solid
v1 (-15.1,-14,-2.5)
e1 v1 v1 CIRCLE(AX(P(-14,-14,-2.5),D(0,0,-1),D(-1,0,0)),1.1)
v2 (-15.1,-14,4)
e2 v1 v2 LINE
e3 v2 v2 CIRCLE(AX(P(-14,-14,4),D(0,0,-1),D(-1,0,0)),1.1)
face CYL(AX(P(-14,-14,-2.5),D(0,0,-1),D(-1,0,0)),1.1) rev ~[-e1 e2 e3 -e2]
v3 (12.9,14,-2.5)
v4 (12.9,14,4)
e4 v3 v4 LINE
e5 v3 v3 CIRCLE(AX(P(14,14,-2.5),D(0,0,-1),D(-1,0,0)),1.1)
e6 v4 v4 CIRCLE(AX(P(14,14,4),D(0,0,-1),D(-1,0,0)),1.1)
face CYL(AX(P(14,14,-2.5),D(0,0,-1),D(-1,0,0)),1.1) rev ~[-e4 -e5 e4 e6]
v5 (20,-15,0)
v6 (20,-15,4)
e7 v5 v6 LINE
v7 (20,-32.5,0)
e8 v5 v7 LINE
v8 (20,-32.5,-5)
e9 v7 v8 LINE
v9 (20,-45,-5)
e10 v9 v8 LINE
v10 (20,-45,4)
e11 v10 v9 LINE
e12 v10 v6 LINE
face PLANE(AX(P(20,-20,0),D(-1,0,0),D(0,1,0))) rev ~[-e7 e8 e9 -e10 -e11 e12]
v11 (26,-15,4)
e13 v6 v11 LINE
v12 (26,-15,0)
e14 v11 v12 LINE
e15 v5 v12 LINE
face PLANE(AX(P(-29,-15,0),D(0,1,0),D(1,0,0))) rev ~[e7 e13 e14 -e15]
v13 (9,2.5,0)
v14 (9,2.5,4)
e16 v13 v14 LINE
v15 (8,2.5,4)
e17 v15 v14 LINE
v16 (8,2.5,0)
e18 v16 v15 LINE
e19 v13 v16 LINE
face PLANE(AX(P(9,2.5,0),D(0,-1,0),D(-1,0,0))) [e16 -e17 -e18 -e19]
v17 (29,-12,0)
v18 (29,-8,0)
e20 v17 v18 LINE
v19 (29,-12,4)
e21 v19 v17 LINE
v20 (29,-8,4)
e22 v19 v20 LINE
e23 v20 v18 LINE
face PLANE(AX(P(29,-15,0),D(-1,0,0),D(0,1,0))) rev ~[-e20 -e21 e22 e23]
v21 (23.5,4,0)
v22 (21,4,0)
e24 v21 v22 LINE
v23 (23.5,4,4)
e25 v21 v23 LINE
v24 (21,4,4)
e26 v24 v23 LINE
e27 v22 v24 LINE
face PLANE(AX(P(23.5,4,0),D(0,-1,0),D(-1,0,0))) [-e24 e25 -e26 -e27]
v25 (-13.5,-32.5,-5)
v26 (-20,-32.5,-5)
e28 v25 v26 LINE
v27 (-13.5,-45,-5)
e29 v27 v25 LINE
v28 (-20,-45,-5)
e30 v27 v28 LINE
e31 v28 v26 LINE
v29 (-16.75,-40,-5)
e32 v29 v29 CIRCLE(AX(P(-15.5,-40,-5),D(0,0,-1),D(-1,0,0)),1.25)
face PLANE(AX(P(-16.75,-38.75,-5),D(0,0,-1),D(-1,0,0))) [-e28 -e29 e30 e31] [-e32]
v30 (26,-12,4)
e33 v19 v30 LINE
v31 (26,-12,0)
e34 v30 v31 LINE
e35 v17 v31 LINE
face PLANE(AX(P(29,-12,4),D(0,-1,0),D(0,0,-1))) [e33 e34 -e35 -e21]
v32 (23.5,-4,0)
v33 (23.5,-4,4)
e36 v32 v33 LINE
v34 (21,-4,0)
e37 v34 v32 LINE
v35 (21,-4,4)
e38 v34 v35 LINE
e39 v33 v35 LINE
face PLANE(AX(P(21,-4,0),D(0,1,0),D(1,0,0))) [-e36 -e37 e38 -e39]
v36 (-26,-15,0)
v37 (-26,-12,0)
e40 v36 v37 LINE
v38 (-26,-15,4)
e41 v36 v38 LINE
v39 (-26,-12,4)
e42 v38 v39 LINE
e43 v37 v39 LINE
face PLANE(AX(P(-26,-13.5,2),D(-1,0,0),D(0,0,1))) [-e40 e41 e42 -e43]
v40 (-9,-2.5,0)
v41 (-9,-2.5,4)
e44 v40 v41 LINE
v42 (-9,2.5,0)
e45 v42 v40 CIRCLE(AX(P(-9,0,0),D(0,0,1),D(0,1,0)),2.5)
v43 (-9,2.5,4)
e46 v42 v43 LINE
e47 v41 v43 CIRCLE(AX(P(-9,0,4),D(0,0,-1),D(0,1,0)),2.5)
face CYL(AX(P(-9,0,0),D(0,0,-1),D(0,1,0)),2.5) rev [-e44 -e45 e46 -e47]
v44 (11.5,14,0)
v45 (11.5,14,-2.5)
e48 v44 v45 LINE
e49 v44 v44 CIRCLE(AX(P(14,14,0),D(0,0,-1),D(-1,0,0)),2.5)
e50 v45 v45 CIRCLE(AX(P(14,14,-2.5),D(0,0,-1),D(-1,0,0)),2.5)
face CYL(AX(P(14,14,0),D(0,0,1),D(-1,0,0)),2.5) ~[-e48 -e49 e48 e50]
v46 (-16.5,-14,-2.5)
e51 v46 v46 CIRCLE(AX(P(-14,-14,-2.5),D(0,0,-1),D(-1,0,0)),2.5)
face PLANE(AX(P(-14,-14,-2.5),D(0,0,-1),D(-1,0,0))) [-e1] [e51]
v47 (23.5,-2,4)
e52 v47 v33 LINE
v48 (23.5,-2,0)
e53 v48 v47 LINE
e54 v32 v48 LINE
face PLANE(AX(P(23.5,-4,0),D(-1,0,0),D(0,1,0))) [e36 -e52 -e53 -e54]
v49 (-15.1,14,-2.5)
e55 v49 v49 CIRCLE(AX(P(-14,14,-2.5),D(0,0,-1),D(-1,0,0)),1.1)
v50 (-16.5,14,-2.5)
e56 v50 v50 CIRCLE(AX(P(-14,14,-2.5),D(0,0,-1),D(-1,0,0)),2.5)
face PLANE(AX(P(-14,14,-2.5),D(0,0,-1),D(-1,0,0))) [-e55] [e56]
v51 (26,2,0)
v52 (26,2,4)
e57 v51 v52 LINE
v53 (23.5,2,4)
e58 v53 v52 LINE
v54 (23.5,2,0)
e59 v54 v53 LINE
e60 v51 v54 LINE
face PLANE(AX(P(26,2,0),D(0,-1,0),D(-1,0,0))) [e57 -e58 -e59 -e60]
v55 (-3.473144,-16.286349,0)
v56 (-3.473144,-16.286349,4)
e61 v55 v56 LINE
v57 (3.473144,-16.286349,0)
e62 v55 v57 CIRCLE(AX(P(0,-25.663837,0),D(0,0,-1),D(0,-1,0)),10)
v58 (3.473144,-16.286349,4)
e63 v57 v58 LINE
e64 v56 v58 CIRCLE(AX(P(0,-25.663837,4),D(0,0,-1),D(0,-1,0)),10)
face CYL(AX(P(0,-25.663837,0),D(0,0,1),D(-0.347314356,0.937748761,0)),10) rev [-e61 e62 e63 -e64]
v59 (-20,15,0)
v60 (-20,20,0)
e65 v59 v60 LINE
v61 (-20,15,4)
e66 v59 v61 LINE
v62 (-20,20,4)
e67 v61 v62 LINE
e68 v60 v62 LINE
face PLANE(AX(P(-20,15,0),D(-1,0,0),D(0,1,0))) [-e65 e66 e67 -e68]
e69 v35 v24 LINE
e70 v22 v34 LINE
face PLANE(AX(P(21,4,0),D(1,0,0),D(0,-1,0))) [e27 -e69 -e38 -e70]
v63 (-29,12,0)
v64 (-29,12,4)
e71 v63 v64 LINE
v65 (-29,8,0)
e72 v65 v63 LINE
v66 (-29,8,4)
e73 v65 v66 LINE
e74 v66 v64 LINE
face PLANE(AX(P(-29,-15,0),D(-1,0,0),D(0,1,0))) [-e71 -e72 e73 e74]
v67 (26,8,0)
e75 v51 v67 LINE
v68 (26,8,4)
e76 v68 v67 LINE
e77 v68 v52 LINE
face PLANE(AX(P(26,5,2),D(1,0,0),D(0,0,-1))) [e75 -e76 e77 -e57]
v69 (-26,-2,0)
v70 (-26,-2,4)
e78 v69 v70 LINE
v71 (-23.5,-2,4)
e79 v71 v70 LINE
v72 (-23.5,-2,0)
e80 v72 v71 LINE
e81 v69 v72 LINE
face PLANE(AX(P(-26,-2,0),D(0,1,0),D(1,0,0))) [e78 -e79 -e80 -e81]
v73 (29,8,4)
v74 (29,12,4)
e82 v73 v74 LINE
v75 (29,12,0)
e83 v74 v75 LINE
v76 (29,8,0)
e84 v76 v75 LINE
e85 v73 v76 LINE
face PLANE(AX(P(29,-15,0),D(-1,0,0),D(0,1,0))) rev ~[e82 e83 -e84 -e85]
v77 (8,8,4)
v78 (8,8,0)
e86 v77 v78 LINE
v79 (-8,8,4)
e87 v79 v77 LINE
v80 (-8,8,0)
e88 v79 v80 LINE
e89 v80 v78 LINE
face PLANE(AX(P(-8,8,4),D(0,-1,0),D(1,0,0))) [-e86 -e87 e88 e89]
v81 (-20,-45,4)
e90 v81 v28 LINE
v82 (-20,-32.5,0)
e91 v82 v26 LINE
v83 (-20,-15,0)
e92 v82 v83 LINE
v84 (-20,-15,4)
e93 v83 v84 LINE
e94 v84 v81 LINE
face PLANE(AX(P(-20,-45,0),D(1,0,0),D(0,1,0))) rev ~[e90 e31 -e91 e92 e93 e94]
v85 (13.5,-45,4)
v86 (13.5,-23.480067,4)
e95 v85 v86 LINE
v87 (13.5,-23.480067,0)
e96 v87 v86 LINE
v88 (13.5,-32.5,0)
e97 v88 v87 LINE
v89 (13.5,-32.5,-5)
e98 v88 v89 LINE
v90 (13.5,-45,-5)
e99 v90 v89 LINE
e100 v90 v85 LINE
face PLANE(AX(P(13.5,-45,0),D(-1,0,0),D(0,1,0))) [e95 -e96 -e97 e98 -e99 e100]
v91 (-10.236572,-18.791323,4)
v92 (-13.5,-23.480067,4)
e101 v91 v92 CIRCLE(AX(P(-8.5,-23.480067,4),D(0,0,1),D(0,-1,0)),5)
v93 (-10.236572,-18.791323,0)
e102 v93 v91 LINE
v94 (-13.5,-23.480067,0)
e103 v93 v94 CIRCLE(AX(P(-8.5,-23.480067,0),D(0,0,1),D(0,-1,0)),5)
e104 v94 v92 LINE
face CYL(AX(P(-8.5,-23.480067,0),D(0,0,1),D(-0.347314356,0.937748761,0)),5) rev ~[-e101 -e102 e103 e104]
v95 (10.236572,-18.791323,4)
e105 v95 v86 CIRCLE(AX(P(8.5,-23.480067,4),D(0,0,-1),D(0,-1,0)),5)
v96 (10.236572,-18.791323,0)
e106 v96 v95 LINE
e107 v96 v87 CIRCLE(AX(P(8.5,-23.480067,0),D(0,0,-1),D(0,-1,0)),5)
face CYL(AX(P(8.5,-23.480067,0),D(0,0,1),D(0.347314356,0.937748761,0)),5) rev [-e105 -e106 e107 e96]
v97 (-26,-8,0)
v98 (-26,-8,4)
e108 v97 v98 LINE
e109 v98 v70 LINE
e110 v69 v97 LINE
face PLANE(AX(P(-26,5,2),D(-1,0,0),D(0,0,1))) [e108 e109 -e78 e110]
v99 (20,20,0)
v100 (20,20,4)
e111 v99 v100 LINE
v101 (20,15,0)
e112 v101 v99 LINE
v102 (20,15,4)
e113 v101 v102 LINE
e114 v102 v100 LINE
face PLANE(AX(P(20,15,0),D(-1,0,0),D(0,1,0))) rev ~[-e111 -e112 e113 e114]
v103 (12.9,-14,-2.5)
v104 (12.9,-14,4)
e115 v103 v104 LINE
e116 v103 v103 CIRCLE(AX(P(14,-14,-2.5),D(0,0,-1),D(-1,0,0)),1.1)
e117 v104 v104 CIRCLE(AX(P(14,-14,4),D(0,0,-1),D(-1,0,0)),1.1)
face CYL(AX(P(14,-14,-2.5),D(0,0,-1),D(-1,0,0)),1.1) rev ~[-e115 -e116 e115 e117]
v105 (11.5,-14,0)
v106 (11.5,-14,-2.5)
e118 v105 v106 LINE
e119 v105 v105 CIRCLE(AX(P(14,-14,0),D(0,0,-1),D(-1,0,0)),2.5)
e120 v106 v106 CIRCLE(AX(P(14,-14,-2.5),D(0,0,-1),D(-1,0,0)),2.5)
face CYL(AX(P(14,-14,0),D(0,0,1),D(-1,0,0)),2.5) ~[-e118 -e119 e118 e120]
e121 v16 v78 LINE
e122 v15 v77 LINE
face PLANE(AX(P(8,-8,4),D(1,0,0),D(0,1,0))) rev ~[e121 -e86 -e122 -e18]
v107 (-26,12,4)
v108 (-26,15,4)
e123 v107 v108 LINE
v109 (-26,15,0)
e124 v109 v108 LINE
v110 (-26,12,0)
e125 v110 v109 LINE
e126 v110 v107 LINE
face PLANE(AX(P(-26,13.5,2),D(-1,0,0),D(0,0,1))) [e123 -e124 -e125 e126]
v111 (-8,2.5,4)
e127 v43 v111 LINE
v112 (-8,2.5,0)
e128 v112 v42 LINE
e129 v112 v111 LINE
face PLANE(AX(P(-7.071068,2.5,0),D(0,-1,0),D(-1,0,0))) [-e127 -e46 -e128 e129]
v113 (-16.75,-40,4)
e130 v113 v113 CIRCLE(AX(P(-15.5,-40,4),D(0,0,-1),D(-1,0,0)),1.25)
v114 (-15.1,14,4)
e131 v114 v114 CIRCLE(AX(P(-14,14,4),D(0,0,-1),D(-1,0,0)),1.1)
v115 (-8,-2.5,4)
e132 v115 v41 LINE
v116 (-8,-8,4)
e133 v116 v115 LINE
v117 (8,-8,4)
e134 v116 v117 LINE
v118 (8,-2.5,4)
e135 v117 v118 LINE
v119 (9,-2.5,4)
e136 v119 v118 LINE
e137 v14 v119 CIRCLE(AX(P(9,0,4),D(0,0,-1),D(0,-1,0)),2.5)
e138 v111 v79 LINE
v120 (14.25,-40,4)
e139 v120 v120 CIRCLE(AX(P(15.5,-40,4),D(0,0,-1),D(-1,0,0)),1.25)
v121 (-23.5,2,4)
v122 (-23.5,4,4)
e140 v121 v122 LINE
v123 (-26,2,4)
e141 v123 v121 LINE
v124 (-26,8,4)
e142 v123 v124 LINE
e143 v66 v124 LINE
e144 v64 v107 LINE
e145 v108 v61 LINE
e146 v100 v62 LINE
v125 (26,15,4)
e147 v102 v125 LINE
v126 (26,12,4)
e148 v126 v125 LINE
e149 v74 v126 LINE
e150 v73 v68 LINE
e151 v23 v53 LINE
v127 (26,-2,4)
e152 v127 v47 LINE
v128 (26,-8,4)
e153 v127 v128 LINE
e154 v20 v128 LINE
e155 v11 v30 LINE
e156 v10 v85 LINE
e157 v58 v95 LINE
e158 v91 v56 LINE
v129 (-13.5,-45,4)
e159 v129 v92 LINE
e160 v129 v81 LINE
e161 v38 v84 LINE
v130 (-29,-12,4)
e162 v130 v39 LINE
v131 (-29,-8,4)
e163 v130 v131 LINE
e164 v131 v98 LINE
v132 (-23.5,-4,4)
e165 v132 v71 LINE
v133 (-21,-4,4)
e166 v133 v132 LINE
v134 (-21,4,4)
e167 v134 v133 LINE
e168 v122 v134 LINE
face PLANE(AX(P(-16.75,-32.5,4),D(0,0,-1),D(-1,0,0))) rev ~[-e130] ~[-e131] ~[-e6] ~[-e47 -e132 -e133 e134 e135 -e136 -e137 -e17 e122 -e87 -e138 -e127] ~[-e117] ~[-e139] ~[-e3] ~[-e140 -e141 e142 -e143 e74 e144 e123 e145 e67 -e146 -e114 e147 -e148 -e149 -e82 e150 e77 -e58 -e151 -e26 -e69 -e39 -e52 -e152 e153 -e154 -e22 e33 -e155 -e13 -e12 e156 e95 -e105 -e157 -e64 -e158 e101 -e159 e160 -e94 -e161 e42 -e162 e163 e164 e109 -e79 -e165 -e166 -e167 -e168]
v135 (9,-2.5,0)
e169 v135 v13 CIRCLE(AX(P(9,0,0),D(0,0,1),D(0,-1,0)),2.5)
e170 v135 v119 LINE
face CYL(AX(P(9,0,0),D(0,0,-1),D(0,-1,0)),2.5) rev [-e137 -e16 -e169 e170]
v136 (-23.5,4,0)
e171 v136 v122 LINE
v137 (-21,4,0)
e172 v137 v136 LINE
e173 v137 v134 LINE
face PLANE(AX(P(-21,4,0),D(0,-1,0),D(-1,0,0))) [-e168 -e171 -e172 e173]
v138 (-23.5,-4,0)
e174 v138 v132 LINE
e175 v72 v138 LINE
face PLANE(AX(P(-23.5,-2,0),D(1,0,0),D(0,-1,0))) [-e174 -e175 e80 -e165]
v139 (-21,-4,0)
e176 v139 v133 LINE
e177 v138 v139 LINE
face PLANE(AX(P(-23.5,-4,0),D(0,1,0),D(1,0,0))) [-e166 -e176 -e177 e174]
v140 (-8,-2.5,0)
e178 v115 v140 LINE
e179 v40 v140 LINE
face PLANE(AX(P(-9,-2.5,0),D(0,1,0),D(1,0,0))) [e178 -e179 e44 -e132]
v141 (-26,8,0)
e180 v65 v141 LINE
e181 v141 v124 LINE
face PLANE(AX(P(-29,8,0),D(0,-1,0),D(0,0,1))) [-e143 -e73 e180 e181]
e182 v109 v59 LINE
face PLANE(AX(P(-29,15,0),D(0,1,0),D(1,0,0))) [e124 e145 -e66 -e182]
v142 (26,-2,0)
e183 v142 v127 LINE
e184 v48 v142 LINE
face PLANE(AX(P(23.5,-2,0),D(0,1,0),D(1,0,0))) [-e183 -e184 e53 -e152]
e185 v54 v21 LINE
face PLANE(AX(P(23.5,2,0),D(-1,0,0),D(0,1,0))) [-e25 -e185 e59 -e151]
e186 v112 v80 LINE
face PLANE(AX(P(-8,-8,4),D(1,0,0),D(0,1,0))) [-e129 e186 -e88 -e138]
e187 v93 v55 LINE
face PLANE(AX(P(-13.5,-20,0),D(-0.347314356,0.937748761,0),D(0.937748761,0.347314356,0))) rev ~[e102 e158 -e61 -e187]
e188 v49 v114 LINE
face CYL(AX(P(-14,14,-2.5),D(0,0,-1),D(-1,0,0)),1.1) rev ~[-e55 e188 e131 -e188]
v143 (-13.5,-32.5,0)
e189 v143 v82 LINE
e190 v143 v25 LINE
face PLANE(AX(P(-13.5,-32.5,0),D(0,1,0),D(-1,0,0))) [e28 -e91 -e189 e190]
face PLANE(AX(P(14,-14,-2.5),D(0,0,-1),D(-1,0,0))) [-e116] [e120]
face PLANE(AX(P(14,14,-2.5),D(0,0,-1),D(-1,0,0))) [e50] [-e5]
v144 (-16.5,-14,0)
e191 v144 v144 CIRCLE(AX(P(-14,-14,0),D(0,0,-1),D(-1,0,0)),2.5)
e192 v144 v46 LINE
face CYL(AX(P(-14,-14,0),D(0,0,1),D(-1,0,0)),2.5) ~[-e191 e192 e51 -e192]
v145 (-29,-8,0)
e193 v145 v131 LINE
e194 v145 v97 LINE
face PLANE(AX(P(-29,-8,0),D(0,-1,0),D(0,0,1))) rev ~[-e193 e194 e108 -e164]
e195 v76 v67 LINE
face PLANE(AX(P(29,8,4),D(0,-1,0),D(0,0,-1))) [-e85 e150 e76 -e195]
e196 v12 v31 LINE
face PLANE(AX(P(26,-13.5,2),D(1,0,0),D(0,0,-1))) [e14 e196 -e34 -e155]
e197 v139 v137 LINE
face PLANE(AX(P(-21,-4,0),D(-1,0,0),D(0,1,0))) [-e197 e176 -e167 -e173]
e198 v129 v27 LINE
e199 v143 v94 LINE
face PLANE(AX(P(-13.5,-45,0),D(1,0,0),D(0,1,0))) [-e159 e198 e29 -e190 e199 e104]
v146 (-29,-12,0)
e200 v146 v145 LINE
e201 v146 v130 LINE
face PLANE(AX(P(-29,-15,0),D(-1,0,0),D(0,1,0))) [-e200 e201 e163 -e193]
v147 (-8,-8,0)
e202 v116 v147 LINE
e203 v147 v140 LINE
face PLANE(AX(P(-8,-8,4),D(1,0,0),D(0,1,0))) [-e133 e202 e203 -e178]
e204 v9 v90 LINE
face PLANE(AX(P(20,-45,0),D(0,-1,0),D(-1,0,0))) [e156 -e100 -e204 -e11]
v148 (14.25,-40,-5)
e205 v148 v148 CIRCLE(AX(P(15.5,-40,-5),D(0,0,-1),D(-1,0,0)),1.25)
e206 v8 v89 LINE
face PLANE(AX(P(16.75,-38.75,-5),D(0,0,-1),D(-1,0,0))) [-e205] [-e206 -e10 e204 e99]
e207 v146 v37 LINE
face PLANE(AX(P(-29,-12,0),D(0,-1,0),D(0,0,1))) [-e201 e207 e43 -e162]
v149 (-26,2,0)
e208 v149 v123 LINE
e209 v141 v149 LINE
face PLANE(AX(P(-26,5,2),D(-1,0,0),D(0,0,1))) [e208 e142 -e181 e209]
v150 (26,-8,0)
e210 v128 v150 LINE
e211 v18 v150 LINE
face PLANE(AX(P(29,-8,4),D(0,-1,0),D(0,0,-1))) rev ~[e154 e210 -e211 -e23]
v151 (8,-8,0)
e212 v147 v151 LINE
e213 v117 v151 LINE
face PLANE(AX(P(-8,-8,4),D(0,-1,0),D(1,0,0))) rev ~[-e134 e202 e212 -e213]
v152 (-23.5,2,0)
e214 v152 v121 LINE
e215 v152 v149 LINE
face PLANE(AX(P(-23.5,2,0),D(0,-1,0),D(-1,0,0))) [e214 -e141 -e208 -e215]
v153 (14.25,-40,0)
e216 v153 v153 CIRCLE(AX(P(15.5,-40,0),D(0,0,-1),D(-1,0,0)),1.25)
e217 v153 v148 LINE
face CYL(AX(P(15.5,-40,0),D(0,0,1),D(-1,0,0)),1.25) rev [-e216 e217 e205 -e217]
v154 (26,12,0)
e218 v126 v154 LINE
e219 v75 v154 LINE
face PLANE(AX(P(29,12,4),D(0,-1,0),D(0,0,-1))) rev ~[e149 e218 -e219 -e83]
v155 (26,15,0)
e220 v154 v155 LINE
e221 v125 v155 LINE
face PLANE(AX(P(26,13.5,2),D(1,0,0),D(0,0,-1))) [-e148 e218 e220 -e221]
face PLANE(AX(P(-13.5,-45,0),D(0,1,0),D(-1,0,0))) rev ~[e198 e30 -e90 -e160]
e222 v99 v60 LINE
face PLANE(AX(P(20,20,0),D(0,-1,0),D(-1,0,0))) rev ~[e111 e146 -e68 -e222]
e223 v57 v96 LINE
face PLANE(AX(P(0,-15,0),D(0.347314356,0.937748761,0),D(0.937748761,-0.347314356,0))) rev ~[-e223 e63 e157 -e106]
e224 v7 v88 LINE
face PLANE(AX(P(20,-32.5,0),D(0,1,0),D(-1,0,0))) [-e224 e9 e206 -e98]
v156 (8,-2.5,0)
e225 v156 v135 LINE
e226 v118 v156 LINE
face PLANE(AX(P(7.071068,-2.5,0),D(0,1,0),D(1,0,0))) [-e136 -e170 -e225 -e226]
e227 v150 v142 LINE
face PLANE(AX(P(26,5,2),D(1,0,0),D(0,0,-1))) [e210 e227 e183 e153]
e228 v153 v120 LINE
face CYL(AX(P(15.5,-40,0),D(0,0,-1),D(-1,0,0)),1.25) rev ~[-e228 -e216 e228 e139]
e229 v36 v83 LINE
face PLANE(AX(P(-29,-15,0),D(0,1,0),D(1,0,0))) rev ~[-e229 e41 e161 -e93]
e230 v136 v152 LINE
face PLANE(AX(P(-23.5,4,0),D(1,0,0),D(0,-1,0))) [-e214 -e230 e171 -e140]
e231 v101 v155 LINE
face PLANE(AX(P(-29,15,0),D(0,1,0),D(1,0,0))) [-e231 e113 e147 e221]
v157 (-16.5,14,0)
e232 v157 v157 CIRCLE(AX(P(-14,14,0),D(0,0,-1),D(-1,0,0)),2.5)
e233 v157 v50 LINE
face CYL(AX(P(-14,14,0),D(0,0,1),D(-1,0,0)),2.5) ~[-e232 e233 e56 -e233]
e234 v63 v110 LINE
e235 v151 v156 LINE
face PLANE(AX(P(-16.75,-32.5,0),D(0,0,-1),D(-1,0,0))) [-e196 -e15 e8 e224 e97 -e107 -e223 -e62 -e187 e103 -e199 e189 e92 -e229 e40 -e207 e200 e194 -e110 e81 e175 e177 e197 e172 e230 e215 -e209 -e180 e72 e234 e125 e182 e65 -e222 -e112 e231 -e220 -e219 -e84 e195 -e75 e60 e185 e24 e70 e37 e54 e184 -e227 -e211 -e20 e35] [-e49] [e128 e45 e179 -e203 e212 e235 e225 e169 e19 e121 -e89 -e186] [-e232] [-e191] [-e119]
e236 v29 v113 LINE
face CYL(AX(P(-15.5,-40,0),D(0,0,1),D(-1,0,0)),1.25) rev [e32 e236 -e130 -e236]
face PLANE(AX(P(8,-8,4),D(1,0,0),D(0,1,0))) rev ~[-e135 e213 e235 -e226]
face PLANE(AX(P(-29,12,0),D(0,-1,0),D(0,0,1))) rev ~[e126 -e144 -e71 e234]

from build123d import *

# Parameters (mm, degrees)
SKETCH_1_W           = 58
SKETCH_1_H           = 30
EXTRUDE_1_DEPTH      = 4
SKETCH_2_W           = 4
SKETCH_2_H           = 3
SKETCH_2_H_2         = 6
SKETCH_2_H_3         = 4
CUT_EXTRUDE_2_DEPTH  = 3
SKETCH_3_W           = 4
SKETCH_3_H           = 3
SKETCH_3_H_2         = 6
SKETCH_3_H_3         = 4
CUT_EXTRUDE_3_DEPTH  = 3
CUT_EXTRUDE_4_DEPTH  = 5
SKETCH_5_R           = 7.5
CUT_EXTRUDE_5_DEPTH  = 5
SKETCH_11_W          = 16
SKETCH_11_H          = 16
CUT_EXTRUDE_10_DEPTH = 10
SKETCH_12_W          = 40
SKETCH_12_H          = 5
EXTRUDE_2_DEPTH      = 4
SKETCH_13_R          = 2.5
EXTRUDE_3_DEPTH      = 2.5
SKETCH_14_R          = 1.1
CUT_EXTRUDE_11_DEPTH = 7.5
SKETCH_15_W          = 6.5
SKETCH_15_H          = 25
SKETCH_15_R          = 1.25
EXTRUDE_4_DEPTH      = 4
SKETCH_16_W          = 6.5
SKETCH_16_H          = 12.5
SKETCH_16_R          = 1.25
EXTRUDE_5_DEPTH      = 5
CUT_EXTRUDE_12_DEPTH = 5
FILLET_1_R           = 10
FILLET_2_R           = 5


with BuildPart() as part:
    # 草图1 → 凸台-拉伸1 (new body)
    with BuildSketch(Plane.XY):
        Rectangle(SKETCH_1_W, SKETCH_1_H)
    extrude(amount=EXTRUDE_1_DEPTH)

    # 草图2 → 切除-拉伸2 (cut)
    with BuildSketch(Plane(origin=(29, 0, 0), x_dir=(0, 0, -1), z_dir=(1, 0, 0))):
        with Locations((-2, 13.5)):
            Rectangle(SKETCH_2_W, SKETCH_2_H)
        with Locations((-2, 5)):
            Rectangle(SKETCH_2_W, SKETCH_2_H_2)
        with Locations((-2, 0)):
            Rectangle(SKETCH_2_W, SKETCH_2_H_3)
        with Locations((-2, -5)):
            Rectangle(SKETCH_2_W, SKETCH_2_H_2)
        with Locations((-2, -13.5)):
            Rectangle(SKETCH_2_W, SKETCH_2_H)
    extrude(amount=-CUT_EXTRUDE_2_DEPTH, mode=Mode.SUBTRACT)

    # 草图3 → 切除-拉伸3 (cut)
    with BuildSketch(Plane.ZY.offset(29)):
        with Locations((2, 13.5)):
            Rectangle(SKETCH_3_W, SKETCH_3_H)
        with Locations((2, 5)):
            Rectangle(SKETCH_3_W, SKETCH_3_H_2)
        with Locations((2, 0)):
            Rectangle(SKETCH_3_W, SKETCH_3_H_3)
        with Locations((2, -5)):
            Rectangle(SKETCH_3_W, SKETCH_3_H_2)
        with Locations((2, -13.5)):
            Rectangle(SKETCH_3_W, SKETCH_3_H)
    extrude(amount=-CUT_EXTRUDE_3_DEPTH, mode=Mode.SUBTRACT)

    # 草图4 → 切除-拉伸4 (cut, through all)
    with BuildSketch(Plane(origin=(0, 0, 0), x_dir=(-1, 0, 0), z_dir=(0, 0, -1))):
        Polygon((-26, 2), (-23.5, 2), (-23.5, 4), (-21, 4), (-21, -4), (-23.5, -4), (-23.5, -2), (-26, -2), align=None)
        Polygon((26, -2), (23.5, -2), (23.5, -4), (21, -4), (21, 4), (23.5, 4), (23.5, 2), (26, 2), align=None)
    extrude(amount=-CUT_EXTRUDE_4_DEPTH, mode=Mode.SUBTRACT)

    # 草图5 → 切除-拉伸5 (cut, through all)
    with BuildSketch(Plane(origin=(0, 0, 0), x_dir=(-1, 0, 0), z_dir=(0, 0, -1))):
        Circle(SKETCH_5_R)
        with BuildLine():
            Line((-9, 2.5), (9, 2.5))
            ThreePointArc((9, 2.5), (11.5, 0), (9, -2.5))
            Line((9, -2.5), (-9, -2.5))
            ThreePointArc((-9, -2.5), (-11.5, 0), (-9, 2.5))
        make_face()
    extrude(amount=-CUT_EXTRUDE_5_DEPTH, mode=Mode.SUBTRACT)

    # 草图11 → 切除-拉伸10 (cut)
    with BuildSketch(Plane.XY.offset(4)):
        Rectangle(SKETCH_11_W, SKETCH_11_H)
    extrude(amount=-CUT_EXTRUDE_10_DEPTH, mode=Mode.SUBTRACT)

    # 草图12 → 凸台-拉伸2 (add)
    with BuildSketch(Plane(origin=(0, 0, 0), x_dir=(-1, 0, 0), z_dir=(0, 0, -1))):
        with Locations((0, 17.5)):
            Rectangle(SKETCH_12_W, SKETCH_12_H)
        with Locations((0, -17.5)):
            Rectangle(SKETCH_12_W, SKETCH_12_H)
    extrude(amount=-EXTRUDE_2_DEPTH)

    # 草图13 → 凸台-拉伸3 (add)
    with BuildSketch(Plane(origin=(0, 0, 0), x_dir=(-1, 0, 0), z_dir=(0, 0, -1))):
        with Locations((14, -14)):
            Circle(SKETCH_13_R)
        with Locations((-14, -14)):
            Circle(SKETCH_13_R)
        with Locations((14, 14)):
            Circle(SKETCH_13_R)
        with Locations((-14, 14)):
            Circle(SKETCH_13_R)
    extrude(amount=EXTRUDE_3_DEPTH)

    # 草图14 → 切除-拉伸11 (cut, through all)
    with BuildSketch(Plane(origin=(0, 0, -2.5), x_dir=(-1, 0, 0), z_dir=(0, 0, -1))):
        with Locations((14, -14)):
            Circle(SKETCH_14_R)
        with Locations((-14, -14)):
            Circle(SKETCH_14_R)
        with Locations((-14, 14)):
            Circle(SKETCH_14_R)
        with Locations((14, 14)):
            Circle(SKETCH_14_R)
    extrude(amount=-CUT_EXTRUDE_11_DEPTH, mode=Mode.SUBTRACT)

    # 草图15 → 凸台-拉伸4 (add)
    with BuildSketch(Plane(origin=(0, 0, 0), x_dir=(-1, 0, 0), z_dir=(0, 0, -1))):
        with Locations((16.75, -32.5)):
            Rectangle(SKETCH_15_W, SKETCH_15_H)
        with Locations((15.5, -40)):
            Circle(SKETCH_15_R, mode=Mode.SUBTRACT)
        with Locations((-16.75, -32.5)):
            Rectangle(SKETCH_15_W, SKETCH_15_H)
        with Locations((-15.5, -40)):
            Circle(SKETCH_15_R, mode=Mode.SUBTRACT)
    extrude(amount=-EXTRUDE_4_DEPTH)

    # 草图16 → 凸台-拉伸5 (add)
    with BuildSketch(Plane(origin=(0, 0, 0), x_dir=(-1, 0, 0), z_dir=(0, 0, -1))):
        with Locations((16.75, -38.75)):
            Rectangle(SKETCH_16_W, SKETCH_16_H)
        with Locations((15.5, -40)):
            Circle(SKETCH_16_R, mode=Mode.SUBTRACT)
        with Locations((-16.75, -38.75)):
            Rectangle(SKETCH_16_W, SKETCH_16_H)
        with Locations((-15.5, -40)):
            Circle(SKETCH_16_R, mode=Mode.SUBTRACT)
    extrude(amount=EXTRUDE_5_DEPTH)

    # 草图17 → 切除-拉伸12 (cut, through all)
    with BuildSketch(Plane(origin=(0, 0, 0), x_dir=(-1, 0, 0), z_dir=(0, 0, -1))):
        Polygon((13.5, -20), (0, -15), (-13.5, -20), align=None)
    extrude(amount=-CUT_EXTRUDE_12_DEPTH, mode=Mode.SUBTRACT)

    # 圆角1
    fillet_1_edges = [part.edges().sort_by_distance(p)[0] for p in [
        (0, -15, 2),
    ]]
    fillet(fillet_1_edges, radius=FILLET_1_R)

    # 圆角2
    fillet_2_edges = [part.edges().sort_by_distance(p)[0] for p in [
        (13.5, -20, 2),
        (-13.5, -20, 2),
    ]]
    fillet(fillet_2_edges, radius=FILLET_2_R)


solid = part.part
